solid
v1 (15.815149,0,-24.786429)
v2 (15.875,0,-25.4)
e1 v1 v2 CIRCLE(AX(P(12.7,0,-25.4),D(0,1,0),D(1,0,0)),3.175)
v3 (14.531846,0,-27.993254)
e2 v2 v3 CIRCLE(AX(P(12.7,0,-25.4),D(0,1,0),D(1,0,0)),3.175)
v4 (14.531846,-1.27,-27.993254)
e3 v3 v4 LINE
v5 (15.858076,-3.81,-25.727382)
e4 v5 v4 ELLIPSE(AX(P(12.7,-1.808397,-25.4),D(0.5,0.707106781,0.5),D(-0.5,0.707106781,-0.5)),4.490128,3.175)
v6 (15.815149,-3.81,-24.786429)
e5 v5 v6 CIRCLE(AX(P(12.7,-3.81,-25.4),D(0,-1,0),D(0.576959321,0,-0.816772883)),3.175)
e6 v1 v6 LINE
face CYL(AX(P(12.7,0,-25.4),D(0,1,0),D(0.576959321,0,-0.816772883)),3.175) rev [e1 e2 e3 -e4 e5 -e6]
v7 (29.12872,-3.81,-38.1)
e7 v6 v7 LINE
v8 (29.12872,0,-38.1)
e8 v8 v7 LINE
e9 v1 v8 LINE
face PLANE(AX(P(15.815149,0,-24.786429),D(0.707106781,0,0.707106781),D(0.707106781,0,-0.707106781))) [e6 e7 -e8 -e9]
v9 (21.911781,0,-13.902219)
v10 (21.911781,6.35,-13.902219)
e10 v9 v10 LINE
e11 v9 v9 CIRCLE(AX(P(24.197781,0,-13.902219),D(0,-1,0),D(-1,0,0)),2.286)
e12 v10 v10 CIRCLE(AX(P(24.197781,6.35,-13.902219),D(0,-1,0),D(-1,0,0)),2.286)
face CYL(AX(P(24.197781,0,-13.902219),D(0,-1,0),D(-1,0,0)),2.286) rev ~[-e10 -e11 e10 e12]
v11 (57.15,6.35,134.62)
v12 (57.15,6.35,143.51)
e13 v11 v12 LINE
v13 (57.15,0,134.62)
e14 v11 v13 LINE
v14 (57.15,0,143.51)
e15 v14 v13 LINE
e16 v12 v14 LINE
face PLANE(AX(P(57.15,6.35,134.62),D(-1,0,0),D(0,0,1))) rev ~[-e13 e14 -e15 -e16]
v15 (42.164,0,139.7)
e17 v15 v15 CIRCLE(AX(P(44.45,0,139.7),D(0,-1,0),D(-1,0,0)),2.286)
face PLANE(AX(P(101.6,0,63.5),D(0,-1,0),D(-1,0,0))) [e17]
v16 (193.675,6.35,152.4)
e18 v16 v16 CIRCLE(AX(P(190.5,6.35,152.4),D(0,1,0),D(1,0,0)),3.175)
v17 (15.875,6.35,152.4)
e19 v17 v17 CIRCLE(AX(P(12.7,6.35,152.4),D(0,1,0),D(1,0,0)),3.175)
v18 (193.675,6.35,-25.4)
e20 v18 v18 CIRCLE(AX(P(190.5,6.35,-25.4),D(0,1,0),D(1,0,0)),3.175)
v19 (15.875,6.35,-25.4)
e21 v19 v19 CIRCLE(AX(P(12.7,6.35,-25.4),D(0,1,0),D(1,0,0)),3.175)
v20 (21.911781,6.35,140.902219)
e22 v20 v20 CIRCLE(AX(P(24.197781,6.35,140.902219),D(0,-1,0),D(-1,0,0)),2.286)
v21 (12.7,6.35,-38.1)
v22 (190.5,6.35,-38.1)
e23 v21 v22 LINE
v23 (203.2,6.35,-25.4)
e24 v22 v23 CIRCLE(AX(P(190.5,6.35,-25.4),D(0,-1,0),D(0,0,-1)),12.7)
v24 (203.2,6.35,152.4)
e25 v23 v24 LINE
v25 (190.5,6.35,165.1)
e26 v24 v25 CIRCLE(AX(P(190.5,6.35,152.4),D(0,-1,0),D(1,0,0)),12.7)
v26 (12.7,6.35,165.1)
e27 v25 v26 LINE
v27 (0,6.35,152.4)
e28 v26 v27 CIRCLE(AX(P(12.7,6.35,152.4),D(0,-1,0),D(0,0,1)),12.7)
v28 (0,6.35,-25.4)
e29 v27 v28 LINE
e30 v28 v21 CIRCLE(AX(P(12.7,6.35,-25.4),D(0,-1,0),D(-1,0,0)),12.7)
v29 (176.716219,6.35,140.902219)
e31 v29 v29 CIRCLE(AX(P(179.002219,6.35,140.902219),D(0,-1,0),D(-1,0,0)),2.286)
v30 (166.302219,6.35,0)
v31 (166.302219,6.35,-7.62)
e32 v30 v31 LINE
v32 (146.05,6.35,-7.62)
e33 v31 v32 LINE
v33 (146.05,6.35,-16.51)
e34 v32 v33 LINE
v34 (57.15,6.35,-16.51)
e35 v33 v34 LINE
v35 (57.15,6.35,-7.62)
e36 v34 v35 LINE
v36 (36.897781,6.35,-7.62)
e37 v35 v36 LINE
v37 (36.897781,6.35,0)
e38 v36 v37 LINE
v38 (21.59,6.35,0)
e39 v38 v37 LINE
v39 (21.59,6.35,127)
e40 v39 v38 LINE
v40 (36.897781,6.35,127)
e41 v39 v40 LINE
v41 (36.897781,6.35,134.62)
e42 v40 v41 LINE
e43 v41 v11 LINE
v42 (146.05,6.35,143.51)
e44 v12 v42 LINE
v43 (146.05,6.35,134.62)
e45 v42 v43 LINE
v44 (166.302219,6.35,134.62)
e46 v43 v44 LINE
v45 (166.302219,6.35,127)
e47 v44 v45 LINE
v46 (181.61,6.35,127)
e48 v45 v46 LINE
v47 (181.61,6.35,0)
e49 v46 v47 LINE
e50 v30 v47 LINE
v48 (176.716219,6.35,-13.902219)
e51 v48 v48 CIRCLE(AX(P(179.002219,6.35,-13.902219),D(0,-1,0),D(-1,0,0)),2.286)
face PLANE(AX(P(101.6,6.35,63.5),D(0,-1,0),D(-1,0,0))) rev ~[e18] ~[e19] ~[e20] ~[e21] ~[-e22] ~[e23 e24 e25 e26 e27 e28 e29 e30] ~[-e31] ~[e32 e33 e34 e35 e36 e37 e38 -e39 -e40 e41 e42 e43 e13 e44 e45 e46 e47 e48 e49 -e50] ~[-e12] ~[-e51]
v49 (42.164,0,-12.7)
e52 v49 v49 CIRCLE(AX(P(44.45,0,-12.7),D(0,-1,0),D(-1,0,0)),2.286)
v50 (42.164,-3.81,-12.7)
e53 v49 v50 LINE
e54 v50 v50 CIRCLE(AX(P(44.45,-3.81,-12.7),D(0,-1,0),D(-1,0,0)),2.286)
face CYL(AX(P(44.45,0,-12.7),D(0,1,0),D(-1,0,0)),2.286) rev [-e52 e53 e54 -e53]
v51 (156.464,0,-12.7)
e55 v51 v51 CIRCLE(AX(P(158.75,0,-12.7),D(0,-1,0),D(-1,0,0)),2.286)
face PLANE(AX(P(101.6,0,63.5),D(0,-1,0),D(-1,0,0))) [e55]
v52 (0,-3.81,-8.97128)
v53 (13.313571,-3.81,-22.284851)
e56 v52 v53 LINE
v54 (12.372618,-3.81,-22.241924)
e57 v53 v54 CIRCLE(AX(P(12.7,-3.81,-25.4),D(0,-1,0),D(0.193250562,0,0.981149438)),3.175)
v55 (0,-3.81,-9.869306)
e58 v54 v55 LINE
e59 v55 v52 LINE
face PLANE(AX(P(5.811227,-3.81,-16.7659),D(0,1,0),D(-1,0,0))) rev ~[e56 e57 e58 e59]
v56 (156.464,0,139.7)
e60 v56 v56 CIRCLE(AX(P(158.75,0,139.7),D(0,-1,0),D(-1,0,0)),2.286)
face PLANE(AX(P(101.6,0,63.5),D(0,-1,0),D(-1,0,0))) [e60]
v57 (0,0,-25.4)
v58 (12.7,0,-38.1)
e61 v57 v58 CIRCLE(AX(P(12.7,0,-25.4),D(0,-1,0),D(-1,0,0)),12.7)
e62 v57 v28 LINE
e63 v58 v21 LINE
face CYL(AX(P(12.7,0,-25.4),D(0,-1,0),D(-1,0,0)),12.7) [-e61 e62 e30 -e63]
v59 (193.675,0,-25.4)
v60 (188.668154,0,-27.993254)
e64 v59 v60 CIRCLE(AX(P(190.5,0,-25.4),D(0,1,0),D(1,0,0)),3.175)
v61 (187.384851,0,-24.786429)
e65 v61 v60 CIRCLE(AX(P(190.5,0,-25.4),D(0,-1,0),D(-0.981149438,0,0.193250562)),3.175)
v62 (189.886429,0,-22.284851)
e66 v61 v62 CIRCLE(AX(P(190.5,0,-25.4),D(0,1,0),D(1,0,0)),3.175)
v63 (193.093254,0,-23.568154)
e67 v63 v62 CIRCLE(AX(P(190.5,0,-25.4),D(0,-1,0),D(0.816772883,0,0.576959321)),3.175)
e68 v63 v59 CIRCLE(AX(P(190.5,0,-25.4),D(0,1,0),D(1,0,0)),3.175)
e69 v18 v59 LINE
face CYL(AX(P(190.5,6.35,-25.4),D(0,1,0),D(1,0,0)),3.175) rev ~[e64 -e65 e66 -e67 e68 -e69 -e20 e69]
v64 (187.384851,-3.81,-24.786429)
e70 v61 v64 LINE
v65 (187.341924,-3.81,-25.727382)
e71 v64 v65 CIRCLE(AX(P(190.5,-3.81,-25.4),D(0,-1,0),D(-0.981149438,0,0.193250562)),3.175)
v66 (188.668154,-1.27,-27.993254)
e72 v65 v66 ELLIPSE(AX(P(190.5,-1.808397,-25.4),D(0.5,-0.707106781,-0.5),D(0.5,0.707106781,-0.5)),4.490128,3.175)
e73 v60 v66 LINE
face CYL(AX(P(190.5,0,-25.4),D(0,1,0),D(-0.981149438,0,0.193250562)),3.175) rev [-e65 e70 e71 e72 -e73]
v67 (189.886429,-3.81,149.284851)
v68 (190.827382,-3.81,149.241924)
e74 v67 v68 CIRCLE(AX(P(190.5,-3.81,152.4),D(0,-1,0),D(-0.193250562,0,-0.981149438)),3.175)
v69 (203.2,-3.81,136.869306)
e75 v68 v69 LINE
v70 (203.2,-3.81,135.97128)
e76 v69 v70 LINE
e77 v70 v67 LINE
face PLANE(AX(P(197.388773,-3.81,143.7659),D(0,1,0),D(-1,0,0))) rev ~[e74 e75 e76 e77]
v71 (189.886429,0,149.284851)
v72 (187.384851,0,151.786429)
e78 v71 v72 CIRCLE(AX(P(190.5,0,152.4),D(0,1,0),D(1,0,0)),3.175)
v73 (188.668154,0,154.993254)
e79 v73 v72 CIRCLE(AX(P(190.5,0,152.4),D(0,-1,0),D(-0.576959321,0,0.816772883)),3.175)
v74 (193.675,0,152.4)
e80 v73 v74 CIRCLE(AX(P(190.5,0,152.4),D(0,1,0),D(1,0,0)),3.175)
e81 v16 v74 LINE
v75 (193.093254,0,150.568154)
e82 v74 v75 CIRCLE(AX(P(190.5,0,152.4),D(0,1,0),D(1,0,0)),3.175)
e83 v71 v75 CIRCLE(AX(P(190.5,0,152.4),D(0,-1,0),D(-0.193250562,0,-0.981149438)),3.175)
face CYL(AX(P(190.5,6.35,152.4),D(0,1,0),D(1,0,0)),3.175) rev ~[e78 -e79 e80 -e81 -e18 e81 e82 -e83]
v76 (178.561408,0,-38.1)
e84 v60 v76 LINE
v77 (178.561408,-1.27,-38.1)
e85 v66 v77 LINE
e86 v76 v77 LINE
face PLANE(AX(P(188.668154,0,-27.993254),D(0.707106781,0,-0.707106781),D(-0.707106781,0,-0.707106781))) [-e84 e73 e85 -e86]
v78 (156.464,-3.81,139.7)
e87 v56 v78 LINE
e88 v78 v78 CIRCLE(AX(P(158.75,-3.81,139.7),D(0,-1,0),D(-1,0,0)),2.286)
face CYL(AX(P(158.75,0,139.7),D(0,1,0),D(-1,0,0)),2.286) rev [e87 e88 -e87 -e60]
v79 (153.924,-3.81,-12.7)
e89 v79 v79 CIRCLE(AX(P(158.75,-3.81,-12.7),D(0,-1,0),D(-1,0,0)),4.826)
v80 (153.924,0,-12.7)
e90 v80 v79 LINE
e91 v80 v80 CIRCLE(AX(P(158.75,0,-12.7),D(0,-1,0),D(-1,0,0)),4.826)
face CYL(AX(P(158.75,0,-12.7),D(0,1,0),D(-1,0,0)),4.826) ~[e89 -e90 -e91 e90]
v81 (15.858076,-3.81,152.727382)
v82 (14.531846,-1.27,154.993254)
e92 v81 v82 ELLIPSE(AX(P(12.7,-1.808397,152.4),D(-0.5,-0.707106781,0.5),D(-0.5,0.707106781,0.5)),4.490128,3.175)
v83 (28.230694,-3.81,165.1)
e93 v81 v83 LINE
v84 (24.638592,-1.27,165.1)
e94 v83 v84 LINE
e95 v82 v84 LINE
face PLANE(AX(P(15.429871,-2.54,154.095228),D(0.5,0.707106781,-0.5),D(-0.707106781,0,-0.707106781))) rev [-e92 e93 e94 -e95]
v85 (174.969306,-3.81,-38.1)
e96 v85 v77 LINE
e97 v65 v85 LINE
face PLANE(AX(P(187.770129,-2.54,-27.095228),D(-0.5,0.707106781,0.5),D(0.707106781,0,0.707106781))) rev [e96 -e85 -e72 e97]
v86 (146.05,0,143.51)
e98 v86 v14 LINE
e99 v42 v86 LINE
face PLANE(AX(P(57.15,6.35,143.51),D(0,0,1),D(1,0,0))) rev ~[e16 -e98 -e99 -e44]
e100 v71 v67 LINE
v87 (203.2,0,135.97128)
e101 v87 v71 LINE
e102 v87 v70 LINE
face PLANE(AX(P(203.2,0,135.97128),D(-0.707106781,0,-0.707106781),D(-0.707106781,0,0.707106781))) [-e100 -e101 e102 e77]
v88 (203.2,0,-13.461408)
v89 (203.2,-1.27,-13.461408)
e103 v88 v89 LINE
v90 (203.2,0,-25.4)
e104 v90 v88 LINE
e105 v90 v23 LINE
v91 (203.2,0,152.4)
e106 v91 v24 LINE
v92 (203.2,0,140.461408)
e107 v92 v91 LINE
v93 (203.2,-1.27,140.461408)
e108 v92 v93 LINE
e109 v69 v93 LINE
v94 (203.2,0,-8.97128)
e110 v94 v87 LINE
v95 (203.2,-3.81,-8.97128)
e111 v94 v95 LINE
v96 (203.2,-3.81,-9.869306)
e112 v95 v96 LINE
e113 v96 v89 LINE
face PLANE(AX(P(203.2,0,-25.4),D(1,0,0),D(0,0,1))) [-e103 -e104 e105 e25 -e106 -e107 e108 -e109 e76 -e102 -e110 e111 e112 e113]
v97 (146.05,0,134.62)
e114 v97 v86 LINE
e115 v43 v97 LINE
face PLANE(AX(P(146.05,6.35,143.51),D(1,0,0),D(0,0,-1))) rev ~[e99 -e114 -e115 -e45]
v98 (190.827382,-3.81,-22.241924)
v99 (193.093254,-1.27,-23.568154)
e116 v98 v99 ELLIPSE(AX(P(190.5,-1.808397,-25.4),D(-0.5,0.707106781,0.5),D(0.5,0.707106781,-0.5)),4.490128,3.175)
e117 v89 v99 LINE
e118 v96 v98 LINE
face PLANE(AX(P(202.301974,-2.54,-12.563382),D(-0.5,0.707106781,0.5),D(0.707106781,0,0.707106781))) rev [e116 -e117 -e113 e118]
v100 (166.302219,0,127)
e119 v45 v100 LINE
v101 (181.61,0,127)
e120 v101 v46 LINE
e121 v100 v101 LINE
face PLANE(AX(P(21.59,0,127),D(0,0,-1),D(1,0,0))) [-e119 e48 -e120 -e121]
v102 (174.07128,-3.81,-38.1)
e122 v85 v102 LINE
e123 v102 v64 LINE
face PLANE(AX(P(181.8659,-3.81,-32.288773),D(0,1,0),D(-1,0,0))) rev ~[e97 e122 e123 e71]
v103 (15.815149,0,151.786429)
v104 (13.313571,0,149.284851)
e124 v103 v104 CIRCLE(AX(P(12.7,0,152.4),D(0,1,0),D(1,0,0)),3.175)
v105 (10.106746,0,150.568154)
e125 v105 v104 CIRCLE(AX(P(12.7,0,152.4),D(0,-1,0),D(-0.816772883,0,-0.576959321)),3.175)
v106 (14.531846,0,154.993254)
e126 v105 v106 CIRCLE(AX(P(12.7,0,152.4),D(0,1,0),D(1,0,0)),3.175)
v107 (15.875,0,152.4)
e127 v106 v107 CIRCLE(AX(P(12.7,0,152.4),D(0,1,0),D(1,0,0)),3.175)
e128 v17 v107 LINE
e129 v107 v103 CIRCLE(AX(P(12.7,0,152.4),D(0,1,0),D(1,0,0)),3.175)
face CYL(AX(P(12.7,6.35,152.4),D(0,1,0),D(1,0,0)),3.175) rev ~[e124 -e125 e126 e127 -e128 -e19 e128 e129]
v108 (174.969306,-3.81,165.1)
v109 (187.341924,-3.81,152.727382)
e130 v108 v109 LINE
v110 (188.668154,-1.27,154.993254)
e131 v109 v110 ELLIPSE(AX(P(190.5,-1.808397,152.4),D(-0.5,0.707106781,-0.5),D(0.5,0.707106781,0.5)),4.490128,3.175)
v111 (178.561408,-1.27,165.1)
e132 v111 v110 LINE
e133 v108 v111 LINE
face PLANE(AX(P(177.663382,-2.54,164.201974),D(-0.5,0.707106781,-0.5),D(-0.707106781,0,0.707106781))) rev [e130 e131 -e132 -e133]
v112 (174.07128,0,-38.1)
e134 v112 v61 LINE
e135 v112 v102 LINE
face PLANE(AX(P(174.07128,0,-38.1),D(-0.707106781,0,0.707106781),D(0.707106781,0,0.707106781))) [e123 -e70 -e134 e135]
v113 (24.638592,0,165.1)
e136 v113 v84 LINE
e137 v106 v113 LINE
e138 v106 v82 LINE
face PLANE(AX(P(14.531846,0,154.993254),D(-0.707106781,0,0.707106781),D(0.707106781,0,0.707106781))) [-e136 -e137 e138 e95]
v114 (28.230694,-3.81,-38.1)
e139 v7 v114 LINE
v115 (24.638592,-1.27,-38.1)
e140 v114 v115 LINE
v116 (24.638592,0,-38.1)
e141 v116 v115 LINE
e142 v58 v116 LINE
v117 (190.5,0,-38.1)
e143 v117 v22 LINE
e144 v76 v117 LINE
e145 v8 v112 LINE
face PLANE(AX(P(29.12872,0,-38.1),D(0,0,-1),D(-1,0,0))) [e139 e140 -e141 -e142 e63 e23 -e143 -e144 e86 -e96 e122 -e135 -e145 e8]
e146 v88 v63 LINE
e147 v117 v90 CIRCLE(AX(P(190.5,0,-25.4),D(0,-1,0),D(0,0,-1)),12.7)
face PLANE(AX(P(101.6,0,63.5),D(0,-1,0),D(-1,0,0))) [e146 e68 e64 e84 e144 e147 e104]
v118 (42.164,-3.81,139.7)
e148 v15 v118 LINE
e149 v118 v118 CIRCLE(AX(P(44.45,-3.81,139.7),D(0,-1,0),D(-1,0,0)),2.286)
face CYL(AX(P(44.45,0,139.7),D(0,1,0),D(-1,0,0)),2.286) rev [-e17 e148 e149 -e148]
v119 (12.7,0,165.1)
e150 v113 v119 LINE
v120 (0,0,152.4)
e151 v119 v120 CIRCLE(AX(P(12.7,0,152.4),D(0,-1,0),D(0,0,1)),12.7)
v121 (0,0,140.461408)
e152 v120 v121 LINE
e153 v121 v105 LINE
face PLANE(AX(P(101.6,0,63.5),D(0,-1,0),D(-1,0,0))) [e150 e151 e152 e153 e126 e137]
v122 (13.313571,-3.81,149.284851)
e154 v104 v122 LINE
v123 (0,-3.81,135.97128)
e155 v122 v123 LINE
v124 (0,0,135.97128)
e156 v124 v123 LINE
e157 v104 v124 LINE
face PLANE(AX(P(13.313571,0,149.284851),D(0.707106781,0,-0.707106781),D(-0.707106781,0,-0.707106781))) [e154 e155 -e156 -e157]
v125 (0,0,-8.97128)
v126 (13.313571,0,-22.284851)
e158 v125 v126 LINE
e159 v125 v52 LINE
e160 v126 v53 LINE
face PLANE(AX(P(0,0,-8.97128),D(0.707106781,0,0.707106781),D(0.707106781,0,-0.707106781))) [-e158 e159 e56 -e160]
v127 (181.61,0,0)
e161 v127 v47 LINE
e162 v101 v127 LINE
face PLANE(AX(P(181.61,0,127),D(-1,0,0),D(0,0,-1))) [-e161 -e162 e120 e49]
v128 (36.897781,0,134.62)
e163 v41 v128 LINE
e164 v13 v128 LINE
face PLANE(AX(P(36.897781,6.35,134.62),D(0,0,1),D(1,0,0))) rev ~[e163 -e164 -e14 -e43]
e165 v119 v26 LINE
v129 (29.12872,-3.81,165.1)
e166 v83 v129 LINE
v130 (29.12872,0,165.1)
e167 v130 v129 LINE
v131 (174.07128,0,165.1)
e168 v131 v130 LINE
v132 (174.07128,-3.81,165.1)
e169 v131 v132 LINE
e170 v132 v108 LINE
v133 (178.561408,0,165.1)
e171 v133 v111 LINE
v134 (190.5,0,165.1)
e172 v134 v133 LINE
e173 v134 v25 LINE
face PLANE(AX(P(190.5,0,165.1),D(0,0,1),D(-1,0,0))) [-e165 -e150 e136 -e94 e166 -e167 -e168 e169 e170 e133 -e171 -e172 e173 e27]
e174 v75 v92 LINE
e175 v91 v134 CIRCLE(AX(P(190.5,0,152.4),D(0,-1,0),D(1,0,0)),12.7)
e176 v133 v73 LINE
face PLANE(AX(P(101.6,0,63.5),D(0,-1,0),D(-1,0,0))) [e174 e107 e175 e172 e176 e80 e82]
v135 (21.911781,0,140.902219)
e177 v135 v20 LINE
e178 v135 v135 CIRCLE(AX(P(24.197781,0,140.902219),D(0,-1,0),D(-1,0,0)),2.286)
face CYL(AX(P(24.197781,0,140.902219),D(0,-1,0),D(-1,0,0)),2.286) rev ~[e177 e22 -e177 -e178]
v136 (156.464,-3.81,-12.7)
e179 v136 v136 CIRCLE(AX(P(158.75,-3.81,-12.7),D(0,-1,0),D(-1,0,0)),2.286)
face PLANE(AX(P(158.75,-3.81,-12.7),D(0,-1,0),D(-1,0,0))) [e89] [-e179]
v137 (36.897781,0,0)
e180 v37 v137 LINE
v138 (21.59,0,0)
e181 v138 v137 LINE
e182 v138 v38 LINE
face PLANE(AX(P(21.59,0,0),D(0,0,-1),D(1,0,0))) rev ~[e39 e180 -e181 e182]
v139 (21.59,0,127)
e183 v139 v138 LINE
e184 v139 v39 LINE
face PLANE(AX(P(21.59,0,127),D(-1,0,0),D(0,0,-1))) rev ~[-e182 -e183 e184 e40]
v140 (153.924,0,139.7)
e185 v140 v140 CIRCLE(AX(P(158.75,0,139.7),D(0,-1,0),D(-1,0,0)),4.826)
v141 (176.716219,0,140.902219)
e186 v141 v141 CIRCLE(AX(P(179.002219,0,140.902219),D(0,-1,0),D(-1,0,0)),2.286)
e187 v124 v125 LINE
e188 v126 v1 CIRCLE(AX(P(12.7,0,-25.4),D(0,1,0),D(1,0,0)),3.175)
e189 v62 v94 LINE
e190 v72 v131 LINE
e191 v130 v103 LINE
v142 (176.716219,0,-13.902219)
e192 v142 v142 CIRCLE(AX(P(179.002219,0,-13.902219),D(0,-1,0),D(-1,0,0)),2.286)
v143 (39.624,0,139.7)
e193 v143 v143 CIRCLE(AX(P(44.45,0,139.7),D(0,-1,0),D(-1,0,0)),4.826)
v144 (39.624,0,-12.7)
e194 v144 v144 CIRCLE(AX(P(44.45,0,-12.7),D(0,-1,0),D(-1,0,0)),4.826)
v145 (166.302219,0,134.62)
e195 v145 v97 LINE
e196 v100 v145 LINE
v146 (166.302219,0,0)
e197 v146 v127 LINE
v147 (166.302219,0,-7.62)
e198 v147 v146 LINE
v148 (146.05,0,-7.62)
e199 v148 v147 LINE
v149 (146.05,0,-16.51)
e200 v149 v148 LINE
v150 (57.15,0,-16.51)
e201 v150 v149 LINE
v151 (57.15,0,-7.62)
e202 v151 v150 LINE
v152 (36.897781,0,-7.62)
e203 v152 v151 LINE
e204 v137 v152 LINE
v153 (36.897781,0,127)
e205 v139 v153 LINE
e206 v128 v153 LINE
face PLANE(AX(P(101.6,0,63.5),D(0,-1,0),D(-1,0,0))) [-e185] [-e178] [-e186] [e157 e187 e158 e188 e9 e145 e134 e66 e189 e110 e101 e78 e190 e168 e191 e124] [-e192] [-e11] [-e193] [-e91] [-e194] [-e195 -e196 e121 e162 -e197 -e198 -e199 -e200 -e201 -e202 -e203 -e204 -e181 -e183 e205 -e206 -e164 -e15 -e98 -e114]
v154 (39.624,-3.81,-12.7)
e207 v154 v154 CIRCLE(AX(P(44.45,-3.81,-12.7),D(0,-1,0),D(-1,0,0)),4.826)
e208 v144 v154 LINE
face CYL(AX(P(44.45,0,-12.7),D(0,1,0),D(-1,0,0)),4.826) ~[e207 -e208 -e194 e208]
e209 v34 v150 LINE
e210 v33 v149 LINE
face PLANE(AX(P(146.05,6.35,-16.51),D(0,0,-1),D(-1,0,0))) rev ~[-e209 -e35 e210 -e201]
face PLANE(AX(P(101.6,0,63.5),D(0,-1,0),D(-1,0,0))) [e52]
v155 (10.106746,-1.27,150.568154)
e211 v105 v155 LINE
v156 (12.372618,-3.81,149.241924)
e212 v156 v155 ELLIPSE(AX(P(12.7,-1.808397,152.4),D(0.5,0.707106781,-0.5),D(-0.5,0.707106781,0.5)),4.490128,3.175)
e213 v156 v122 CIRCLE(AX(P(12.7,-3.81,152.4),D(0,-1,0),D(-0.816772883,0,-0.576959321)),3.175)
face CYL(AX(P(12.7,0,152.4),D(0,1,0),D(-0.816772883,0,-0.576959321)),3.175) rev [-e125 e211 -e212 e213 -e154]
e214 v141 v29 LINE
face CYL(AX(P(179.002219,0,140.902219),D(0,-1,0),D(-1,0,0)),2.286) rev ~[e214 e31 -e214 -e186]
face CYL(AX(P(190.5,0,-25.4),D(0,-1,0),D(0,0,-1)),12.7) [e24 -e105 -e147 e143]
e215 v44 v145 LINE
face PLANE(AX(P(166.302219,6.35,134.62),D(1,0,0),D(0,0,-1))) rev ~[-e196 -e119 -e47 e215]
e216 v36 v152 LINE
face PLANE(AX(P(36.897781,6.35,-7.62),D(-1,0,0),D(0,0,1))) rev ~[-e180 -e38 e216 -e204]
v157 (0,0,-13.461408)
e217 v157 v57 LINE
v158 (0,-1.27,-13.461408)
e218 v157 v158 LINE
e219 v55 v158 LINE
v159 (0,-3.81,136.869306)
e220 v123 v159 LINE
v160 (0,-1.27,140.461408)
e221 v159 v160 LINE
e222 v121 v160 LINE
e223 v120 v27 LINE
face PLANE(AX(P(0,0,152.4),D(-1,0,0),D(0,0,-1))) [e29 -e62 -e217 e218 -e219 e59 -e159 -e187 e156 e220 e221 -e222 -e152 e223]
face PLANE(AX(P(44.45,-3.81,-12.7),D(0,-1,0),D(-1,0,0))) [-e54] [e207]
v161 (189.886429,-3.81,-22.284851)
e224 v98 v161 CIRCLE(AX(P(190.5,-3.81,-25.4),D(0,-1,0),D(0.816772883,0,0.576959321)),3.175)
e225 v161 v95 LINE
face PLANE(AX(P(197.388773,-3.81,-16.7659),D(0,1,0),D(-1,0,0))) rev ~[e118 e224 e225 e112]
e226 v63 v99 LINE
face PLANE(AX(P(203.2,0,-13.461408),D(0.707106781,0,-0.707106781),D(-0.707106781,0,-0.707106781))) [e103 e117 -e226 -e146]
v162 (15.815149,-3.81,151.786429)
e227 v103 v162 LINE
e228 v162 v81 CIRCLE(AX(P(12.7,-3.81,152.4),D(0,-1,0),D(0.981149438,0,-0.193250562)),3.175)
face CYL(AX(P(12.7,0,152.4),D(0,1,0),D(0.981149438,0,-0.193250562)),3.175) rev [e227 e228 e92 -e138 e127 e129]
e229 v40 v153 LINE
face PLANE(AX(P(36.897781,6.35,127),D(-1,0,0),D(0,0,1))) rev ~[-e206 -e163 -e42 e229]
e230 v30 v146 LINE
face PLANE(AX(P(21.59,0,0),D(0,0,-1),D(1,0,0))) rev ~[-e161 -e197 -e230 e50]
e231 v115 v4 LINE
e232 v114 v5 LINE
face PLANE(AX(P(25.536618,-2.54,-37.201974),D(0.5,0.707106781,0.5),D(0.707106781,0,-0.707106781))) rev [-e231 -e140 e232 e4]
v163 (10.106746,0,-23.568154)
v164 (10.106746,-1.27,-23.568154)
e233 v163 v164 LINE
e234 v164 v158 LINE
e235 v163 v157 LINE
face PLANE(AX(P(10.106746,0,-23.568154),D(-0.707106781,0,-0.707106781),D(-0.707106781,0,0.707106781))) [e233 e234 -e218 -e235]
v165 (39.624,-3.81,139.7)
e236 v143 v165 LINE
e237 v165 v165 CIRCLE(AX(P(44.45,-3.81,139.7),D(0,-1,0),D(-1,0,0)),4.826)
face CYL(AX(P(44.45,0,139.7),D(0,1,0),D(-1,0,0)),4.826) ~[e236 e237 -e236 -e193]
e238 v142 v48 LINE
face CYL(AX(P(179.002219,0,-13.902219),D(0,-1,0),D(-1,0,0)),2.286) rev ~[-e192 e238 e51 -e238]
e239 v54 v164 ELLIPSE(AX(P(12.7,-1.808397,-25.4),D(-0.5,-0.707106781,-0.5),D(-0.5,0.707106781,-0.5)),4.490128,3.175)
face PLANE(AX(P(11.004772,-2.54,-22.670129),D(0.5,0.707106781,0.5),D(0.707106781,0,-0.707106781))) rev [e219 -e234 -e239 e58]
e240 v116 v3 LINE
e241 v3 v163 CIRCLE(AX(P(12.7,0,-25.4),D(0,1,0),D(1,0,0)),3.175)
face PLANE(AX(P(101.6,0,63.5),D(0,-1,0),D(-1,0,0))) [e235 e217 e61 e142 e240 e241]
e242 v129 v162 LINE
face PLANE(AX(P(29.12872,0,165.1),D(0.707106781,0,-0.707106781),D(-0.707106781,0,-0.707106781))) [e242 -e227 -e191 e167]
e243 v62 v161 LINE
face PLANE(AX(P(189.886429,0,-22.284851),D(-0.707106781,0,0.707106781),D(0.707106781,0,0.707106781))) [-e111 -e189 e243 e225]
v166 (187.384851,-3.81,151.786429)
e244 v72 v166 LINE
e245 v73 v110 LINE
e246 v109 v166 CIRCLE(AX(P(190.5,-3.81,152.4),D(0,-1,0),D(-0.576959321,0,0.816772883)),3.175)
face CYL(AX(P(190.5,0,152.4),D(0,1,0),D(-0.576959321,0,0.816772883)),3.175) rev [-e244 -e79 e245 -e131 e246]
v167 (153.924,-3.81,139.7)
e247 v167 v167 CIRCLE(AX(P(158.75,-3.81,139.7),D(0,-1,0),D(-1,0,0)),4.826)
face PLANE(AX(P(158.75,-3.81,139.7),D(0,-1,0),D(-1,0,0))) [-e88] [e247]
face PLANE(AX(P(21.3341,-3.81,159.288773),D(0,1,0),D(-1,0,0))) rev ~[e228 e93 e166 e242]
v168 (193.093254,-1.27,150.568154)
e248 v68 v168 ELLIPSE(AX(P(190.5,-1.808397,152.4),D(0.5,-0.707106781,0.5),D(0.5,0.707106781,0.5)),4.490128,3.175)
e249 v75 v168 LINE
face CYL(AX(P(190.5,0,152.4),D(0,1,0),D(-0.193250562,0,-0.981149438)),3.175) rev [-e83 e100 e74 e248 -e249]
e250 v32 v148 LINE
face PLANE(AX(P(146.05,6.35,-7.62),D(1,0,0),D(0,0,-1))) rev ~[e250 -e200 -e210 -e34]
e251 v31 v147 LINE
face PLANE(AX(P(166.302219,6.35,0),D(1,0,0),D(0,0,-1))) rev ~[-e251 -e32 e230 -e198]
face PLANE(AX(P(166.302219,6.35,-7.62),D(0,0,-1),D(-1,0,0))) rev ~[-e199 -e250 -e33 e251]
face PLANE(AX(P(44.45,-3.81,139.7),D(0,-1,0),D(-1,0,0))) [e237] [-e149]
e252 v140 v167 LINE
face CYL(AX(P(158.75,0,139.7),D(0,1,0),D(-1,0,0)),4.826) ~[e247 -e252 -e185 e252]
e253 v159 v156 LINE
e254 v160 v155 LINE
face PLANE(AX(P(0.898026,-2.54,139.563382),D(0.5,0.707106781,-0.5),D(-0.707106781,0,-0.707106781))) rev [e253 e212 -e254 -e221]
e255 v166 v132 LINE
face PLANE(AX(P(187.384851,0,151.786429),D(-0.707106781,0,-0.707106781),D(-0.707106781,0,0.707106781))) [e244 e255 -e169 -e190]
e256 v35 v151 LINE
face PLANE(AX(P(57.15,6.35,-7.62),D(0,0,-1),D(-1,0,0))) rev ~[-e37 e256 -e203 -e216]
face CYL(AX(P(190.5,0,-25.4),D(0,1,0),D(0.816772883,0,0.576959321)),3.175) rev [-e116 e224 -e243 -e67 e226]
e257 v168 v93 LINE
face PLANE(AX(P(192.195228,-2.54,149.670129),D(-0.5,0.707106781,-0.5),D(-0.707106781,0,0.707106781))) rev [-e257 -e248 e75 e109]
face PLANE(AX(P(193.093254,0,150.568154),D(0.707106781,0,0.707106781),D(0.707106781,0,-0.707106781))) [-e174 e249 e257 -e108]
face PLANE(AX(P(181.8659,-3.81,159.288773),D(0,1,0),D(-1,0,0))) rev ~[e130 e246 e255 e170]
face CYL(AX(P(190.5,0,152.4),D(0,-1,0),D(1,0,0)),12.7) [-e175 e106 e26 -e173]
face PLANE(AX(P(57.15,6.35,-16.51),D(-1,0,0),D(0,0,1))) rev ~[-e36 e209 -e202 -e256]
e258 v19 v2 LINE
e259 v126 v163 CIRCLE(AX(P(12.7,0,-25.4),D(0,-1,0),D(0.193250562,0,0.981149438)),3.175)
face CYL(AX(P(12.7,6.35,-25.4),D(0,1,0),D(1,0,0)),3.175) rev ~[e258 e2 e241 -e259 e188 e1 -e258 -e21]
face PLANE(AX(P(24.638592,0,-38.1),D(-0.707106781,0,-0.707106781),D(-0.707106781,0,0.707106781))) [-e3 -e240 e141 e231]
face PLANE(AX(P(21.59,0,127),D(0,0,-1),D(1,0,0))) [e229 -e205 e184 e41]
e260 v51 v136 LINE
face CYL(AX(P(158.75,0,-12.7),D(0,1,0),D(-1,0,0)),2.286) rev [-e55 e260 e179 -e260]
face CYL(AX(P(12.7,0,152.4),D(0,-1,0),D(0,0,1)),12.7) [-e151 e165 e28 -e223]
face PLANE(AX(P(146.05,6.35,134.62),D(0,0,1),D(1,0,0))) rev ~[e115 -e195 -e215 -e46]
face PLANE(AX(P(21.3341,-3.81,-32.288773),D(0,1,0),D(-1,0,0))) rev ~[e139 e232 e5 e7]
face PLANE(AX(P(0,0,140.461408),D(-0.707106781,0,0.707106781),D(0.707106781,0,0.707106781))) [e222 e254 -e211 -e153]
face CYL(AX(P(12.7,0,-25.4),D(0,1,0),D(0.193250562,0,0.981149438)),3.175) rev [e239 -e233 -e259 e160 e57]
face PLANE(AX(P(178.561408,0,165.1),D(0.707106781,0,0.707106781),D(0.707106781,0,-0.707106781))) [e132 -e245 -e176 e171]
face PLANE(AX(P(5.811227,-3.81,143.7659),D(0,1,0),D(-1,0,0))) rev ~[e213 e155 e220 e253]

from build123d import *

# Parameters (mm, degrees)
SKETCH1_W           = 160.02
SKETCH1_H           = 127
BOSS_EXTRUDE2_DEPTH = 6.35
SKETCH2_R           = 3.175
CUT_EXTRUDE1_DEPTH  = 7.35
SKETCH8_R           = 2.286
CUT_EXTRUDE4_DEPTH  = 7.35
SKETCH10_R          = 4.826
SKETCH10_R_2        = 2.286
BOSS_EXTRUDE3_DEPTH = 3.81
BOSS_EXTRUDE4_DEPTH = 3.81
CHAMFER1_SIZE       = 2.54
CUT_EXTRUDE5_DEPTH  = 11.16


with BuildPart() as part:
    # Sketch1 → Boss-Extrude2 (new body)
    with BuildSketch(Plane(origin=(0, 0, 0), x_dir=(1, 0, 0), z_dir=(0, 1, 0))):
        with BuildLine():
            Line((0, 0), (0, 25.4))
            ThreePointArc((0, 25.4), (3.719743879, 34.380256121), (12.7, 38.1))
            Line((12.7, 38.1), (190.5, 38.1))
            ThreePointArc((190.5, 38.1), (199.480256121, 34.380256121), (203.2, 25.4))
            Line((203.2, 25.4), (203.2, -152.4))
            ThreePointArc((203.2, -152.4), (199.480256121, -161.380256121), (190.5, -165.1))
            Line((190.5, -165.1), (12.7, -165.1))
            ThreePointArc((12.7, -165.1), (3.719743879, -161.380256121), (0, -152.4))
            Line((0, -152.4), (0, -127))
            Line((0, -127), (0, 0))
        make_face()
        with Locations((101.6, -63.5)):
            Rectangle(SKETCH1_W, SKETCH1_H, mode=Mode.SUBTRACT)
    extrude(amount=BOSS_EXTRUDE2_DEPTH)

    # Sketch2 → Cut-Extrude1 (cut, through all)
    with BuildSketch(Plane(origin=(0, 6.35, 0), x_dir=(1, 0, 0), z_dir=(0, 1, 0))):
        with Locations((12.7, 25.4)):
            Circle(SKETCH2_R)
        with Locations((190.5, 25.4)):
            Circle(SKETCH2_R)
        with Locations((190.5, -152.4)):
            Circle(SKETCH2_R)
        with Locations((12.7, -152.4)):
            Circle(SKETCH2_R)
    extrude(amount=-CUT_EXTRUDE1_DEPTH, mode=Mode.SUBTRACT)

    # Sketch8 → Cut-Extrude4 (cut, through all)
    with BuildSketch(Plane(origin=(0, 0, 0), x_dir=(-1, 0, 0), z_dir=(0, -1, 0))):
        with Locations((-24.197781122, 13.902218878)):
            Circle(SKETCH8_R)
        with Locations((-24.197781122, -140.902218878)):
            Circle(SKETCH8_R)
        with Locations((-179.002218878, -140.902218878)):
            Circle(SKETCH8_R)
        with Locations((-179.002218878, 13.902218878)):
            Circle(SKETCH8_R)
    extrude(amount=-CUT_EXTRUDE4_DEPTH, mode=Mode.SUBTRACT)

    # Sketch10 → Boss-Extrude3 (add)
    with BuildSketch(Plane(origin=(0, 0, 0), x_dir=(-1, 0, 0), z_dir=(0, -1, 0))):
        with Locations((-44.45, 12.7)):
            Circle(SKETCH10_R)
        with Locations((-44.45, 12.7)):
            Circle(SKETCH10_R_2, mode=Mode.SUBTRACT)
        with Locations((-158.75, 12.7)):
            Circle(SKETCH10_R)
        with Locations((-158.75, 12.7)):
            Circle(SKETCH10_R_2, mode=Mode.SUBTRACT)
        with Locations((-158.75, -139.7)):
            Circle(SKETCH10_R)
        with Locations((-158.75, -139.7)):
            Circle(SKETCH10_R_2, mode=Mode.SUBTRACT)
        with Locations((-44.45, -139.7)):
            Circle(SKETCH10_R)
        with Locations((-44.45, -139.7)):
            Circle(SKETCH10_R_2, mode=Mode.SUBTRACT)
    extrude(amount=BOSS_EXTRUDE3_DEPTH)

    # Sketch11 → Boss-Extrude4 (add)
    with BuildSketch(Plane.XZ):
        with BuildLine():
            Line((174.07128, -38.1), (187.384850533, -24.786429467))
            ThreePointArc((187.384850533, -24.786429467), (187.552268433, -26.579620112), (188.668154157, -27.993253903))
            Line((188.668154157, -27.993253903), (178.561408061, -38.1))
            Line((178.561408061, -38.1), (174.07128, -38.1))
        make_face()
        with BuildLine():
            Line((203.2, -8.97128), (203.2, -13.461408061))
            Line((203.2, -13.461408061), (193.093253903, -23.568154157))
            ThreePointArc((193.093253903, -23.568154157), (191.679620112, -22.452268433), (189.886429467, -22.284850533))
            Line((189.886429467, -22.284850533), (203.2, -8.97128))
        make_face()
        with BuildLine():
            Line((10.106746097, -23.568154157), (0, -13.461408061))
            Line((0, -13.461408061), (0, -8.97128))
            Line((0, -8.97128), (13.313570533, -22.284850533))
            ThreePointArc((13.313570533, -22.284850533), (11.520379888, -22.452268433), (10.106746097, -23.568154157))
        make_face()
        with BuildLine():
            Line((15.815149467, -24.786429467), (29.12872, -38.1))
            Line((29.12872, -38.1), (24.638591939, -38.1))
            Line((24.638591939, -38.1), (14.531845843, -27.993253903))
            ThreePointArc((14.531845843, -27.993253903), (15.647731567, -26.579620112), (15.815149467, -24.786429467))
        make_face()
        with BuildLine():
            Line((14.531845843, 154.993253903), (24.638591939, 165.1))
            Line((24.638591939, 165.1), (29.12872, 165.1))
            Line((29.12872, 165.1), (15.815149467, 151.786429467))
            ThreePointArc((15.815149467, 151.786429467), (15.647731567, 153.579620112), (14.531845843, 154.993253903))
        make_face()
        with BuildLine():
            Line((13.313570533, 149.284850533), (0, 135.97128))
            Line((0, 135.97128), (0, 140.461408061))
            Line((0, 140.461408061), (10.106746097, 150.568154157))
            ThreePointArc((10.106746097, 150.568154157), (11.520379888, 149.452268433), (13.313570533, 149.284850533))
        make_face()
        with BuildLine():
            Line((193.093253903, 150.568154157), (203.2, 140.461408061))
            Line((203.2, 140.461408061), (203.2, 135.97128))
            Line((203.2, 135.97128), (189.886429467, 149.284850533))
            ThreePointArc((189.886429467, 149.284850533), (191.679620112, 149.452268433), (193.093253903, 150.568154157))
        make_face()
        with BuildLine():
            Line((187.384850533, 151.786429467), (174.07128, 165.1))
            Line((174.07128, 165.1), (178.561408061, 165.1))
            Line((178.561408061, 165.1), (188.668154157, 154.993253903))
            ThreePointArc((188.668154157, 154.993253903), (187.552268433, 153.579620112), (187.384850533, 151.786429467))
        make_face()
    extrude(amount=BOSS_EXTRUDE4_DEPTH)

    # Chamfer1
    chamfer1_edges = [part.edges().sort_by_distance(p)[0] for p in [
        (183.614781109, -3.81, -33.046626952),
        (198.146626952, -3.81, -18.514781109),
        (5.053373048, -3.81, -18.514781109),
        (19.585218891, -3.81, -33.046626952),
        (19.585218891, -3.81, 160.046626952),
        (5.053373048, -3.81, 145.514781109),
        (198.146626952, -3.81, 145.514781109),
        (183.614781109, -3.81, 160.046626952),
    ]]
    chamfer(chamfer1_edges, length=CHAMFER1_SIZE)

    # Sketch9 → Cut-Extrude5 (cut, through all)
    with BuildSketch(Plane(origin=(0, 6.35, 0), x_dir=(1, 0, 0), z_dir=(0, 1, 0))):
        Polygon((36.897781122, 0), (166.302218878, 0), (166.302218878, 7.62), (146.05, 7.62), (146.05, 16.51), (57.15, 16.51), (57.15, 7.62), (36.897781122, 7.62), align=None)
        Polygon((166.302218878, -127), (36.897781122, -127), (36.897781122, -134.62), (57.15, -134.62), (57.15, -143.51), (146.05, -143.51), (146.05, -134.62), (166.302218878, -134.62), align=None)
    extrude(amount=-CUT_EXTRUDE5_DEPTH, mode=Mode.SUBTRACT)


solid = part.part
